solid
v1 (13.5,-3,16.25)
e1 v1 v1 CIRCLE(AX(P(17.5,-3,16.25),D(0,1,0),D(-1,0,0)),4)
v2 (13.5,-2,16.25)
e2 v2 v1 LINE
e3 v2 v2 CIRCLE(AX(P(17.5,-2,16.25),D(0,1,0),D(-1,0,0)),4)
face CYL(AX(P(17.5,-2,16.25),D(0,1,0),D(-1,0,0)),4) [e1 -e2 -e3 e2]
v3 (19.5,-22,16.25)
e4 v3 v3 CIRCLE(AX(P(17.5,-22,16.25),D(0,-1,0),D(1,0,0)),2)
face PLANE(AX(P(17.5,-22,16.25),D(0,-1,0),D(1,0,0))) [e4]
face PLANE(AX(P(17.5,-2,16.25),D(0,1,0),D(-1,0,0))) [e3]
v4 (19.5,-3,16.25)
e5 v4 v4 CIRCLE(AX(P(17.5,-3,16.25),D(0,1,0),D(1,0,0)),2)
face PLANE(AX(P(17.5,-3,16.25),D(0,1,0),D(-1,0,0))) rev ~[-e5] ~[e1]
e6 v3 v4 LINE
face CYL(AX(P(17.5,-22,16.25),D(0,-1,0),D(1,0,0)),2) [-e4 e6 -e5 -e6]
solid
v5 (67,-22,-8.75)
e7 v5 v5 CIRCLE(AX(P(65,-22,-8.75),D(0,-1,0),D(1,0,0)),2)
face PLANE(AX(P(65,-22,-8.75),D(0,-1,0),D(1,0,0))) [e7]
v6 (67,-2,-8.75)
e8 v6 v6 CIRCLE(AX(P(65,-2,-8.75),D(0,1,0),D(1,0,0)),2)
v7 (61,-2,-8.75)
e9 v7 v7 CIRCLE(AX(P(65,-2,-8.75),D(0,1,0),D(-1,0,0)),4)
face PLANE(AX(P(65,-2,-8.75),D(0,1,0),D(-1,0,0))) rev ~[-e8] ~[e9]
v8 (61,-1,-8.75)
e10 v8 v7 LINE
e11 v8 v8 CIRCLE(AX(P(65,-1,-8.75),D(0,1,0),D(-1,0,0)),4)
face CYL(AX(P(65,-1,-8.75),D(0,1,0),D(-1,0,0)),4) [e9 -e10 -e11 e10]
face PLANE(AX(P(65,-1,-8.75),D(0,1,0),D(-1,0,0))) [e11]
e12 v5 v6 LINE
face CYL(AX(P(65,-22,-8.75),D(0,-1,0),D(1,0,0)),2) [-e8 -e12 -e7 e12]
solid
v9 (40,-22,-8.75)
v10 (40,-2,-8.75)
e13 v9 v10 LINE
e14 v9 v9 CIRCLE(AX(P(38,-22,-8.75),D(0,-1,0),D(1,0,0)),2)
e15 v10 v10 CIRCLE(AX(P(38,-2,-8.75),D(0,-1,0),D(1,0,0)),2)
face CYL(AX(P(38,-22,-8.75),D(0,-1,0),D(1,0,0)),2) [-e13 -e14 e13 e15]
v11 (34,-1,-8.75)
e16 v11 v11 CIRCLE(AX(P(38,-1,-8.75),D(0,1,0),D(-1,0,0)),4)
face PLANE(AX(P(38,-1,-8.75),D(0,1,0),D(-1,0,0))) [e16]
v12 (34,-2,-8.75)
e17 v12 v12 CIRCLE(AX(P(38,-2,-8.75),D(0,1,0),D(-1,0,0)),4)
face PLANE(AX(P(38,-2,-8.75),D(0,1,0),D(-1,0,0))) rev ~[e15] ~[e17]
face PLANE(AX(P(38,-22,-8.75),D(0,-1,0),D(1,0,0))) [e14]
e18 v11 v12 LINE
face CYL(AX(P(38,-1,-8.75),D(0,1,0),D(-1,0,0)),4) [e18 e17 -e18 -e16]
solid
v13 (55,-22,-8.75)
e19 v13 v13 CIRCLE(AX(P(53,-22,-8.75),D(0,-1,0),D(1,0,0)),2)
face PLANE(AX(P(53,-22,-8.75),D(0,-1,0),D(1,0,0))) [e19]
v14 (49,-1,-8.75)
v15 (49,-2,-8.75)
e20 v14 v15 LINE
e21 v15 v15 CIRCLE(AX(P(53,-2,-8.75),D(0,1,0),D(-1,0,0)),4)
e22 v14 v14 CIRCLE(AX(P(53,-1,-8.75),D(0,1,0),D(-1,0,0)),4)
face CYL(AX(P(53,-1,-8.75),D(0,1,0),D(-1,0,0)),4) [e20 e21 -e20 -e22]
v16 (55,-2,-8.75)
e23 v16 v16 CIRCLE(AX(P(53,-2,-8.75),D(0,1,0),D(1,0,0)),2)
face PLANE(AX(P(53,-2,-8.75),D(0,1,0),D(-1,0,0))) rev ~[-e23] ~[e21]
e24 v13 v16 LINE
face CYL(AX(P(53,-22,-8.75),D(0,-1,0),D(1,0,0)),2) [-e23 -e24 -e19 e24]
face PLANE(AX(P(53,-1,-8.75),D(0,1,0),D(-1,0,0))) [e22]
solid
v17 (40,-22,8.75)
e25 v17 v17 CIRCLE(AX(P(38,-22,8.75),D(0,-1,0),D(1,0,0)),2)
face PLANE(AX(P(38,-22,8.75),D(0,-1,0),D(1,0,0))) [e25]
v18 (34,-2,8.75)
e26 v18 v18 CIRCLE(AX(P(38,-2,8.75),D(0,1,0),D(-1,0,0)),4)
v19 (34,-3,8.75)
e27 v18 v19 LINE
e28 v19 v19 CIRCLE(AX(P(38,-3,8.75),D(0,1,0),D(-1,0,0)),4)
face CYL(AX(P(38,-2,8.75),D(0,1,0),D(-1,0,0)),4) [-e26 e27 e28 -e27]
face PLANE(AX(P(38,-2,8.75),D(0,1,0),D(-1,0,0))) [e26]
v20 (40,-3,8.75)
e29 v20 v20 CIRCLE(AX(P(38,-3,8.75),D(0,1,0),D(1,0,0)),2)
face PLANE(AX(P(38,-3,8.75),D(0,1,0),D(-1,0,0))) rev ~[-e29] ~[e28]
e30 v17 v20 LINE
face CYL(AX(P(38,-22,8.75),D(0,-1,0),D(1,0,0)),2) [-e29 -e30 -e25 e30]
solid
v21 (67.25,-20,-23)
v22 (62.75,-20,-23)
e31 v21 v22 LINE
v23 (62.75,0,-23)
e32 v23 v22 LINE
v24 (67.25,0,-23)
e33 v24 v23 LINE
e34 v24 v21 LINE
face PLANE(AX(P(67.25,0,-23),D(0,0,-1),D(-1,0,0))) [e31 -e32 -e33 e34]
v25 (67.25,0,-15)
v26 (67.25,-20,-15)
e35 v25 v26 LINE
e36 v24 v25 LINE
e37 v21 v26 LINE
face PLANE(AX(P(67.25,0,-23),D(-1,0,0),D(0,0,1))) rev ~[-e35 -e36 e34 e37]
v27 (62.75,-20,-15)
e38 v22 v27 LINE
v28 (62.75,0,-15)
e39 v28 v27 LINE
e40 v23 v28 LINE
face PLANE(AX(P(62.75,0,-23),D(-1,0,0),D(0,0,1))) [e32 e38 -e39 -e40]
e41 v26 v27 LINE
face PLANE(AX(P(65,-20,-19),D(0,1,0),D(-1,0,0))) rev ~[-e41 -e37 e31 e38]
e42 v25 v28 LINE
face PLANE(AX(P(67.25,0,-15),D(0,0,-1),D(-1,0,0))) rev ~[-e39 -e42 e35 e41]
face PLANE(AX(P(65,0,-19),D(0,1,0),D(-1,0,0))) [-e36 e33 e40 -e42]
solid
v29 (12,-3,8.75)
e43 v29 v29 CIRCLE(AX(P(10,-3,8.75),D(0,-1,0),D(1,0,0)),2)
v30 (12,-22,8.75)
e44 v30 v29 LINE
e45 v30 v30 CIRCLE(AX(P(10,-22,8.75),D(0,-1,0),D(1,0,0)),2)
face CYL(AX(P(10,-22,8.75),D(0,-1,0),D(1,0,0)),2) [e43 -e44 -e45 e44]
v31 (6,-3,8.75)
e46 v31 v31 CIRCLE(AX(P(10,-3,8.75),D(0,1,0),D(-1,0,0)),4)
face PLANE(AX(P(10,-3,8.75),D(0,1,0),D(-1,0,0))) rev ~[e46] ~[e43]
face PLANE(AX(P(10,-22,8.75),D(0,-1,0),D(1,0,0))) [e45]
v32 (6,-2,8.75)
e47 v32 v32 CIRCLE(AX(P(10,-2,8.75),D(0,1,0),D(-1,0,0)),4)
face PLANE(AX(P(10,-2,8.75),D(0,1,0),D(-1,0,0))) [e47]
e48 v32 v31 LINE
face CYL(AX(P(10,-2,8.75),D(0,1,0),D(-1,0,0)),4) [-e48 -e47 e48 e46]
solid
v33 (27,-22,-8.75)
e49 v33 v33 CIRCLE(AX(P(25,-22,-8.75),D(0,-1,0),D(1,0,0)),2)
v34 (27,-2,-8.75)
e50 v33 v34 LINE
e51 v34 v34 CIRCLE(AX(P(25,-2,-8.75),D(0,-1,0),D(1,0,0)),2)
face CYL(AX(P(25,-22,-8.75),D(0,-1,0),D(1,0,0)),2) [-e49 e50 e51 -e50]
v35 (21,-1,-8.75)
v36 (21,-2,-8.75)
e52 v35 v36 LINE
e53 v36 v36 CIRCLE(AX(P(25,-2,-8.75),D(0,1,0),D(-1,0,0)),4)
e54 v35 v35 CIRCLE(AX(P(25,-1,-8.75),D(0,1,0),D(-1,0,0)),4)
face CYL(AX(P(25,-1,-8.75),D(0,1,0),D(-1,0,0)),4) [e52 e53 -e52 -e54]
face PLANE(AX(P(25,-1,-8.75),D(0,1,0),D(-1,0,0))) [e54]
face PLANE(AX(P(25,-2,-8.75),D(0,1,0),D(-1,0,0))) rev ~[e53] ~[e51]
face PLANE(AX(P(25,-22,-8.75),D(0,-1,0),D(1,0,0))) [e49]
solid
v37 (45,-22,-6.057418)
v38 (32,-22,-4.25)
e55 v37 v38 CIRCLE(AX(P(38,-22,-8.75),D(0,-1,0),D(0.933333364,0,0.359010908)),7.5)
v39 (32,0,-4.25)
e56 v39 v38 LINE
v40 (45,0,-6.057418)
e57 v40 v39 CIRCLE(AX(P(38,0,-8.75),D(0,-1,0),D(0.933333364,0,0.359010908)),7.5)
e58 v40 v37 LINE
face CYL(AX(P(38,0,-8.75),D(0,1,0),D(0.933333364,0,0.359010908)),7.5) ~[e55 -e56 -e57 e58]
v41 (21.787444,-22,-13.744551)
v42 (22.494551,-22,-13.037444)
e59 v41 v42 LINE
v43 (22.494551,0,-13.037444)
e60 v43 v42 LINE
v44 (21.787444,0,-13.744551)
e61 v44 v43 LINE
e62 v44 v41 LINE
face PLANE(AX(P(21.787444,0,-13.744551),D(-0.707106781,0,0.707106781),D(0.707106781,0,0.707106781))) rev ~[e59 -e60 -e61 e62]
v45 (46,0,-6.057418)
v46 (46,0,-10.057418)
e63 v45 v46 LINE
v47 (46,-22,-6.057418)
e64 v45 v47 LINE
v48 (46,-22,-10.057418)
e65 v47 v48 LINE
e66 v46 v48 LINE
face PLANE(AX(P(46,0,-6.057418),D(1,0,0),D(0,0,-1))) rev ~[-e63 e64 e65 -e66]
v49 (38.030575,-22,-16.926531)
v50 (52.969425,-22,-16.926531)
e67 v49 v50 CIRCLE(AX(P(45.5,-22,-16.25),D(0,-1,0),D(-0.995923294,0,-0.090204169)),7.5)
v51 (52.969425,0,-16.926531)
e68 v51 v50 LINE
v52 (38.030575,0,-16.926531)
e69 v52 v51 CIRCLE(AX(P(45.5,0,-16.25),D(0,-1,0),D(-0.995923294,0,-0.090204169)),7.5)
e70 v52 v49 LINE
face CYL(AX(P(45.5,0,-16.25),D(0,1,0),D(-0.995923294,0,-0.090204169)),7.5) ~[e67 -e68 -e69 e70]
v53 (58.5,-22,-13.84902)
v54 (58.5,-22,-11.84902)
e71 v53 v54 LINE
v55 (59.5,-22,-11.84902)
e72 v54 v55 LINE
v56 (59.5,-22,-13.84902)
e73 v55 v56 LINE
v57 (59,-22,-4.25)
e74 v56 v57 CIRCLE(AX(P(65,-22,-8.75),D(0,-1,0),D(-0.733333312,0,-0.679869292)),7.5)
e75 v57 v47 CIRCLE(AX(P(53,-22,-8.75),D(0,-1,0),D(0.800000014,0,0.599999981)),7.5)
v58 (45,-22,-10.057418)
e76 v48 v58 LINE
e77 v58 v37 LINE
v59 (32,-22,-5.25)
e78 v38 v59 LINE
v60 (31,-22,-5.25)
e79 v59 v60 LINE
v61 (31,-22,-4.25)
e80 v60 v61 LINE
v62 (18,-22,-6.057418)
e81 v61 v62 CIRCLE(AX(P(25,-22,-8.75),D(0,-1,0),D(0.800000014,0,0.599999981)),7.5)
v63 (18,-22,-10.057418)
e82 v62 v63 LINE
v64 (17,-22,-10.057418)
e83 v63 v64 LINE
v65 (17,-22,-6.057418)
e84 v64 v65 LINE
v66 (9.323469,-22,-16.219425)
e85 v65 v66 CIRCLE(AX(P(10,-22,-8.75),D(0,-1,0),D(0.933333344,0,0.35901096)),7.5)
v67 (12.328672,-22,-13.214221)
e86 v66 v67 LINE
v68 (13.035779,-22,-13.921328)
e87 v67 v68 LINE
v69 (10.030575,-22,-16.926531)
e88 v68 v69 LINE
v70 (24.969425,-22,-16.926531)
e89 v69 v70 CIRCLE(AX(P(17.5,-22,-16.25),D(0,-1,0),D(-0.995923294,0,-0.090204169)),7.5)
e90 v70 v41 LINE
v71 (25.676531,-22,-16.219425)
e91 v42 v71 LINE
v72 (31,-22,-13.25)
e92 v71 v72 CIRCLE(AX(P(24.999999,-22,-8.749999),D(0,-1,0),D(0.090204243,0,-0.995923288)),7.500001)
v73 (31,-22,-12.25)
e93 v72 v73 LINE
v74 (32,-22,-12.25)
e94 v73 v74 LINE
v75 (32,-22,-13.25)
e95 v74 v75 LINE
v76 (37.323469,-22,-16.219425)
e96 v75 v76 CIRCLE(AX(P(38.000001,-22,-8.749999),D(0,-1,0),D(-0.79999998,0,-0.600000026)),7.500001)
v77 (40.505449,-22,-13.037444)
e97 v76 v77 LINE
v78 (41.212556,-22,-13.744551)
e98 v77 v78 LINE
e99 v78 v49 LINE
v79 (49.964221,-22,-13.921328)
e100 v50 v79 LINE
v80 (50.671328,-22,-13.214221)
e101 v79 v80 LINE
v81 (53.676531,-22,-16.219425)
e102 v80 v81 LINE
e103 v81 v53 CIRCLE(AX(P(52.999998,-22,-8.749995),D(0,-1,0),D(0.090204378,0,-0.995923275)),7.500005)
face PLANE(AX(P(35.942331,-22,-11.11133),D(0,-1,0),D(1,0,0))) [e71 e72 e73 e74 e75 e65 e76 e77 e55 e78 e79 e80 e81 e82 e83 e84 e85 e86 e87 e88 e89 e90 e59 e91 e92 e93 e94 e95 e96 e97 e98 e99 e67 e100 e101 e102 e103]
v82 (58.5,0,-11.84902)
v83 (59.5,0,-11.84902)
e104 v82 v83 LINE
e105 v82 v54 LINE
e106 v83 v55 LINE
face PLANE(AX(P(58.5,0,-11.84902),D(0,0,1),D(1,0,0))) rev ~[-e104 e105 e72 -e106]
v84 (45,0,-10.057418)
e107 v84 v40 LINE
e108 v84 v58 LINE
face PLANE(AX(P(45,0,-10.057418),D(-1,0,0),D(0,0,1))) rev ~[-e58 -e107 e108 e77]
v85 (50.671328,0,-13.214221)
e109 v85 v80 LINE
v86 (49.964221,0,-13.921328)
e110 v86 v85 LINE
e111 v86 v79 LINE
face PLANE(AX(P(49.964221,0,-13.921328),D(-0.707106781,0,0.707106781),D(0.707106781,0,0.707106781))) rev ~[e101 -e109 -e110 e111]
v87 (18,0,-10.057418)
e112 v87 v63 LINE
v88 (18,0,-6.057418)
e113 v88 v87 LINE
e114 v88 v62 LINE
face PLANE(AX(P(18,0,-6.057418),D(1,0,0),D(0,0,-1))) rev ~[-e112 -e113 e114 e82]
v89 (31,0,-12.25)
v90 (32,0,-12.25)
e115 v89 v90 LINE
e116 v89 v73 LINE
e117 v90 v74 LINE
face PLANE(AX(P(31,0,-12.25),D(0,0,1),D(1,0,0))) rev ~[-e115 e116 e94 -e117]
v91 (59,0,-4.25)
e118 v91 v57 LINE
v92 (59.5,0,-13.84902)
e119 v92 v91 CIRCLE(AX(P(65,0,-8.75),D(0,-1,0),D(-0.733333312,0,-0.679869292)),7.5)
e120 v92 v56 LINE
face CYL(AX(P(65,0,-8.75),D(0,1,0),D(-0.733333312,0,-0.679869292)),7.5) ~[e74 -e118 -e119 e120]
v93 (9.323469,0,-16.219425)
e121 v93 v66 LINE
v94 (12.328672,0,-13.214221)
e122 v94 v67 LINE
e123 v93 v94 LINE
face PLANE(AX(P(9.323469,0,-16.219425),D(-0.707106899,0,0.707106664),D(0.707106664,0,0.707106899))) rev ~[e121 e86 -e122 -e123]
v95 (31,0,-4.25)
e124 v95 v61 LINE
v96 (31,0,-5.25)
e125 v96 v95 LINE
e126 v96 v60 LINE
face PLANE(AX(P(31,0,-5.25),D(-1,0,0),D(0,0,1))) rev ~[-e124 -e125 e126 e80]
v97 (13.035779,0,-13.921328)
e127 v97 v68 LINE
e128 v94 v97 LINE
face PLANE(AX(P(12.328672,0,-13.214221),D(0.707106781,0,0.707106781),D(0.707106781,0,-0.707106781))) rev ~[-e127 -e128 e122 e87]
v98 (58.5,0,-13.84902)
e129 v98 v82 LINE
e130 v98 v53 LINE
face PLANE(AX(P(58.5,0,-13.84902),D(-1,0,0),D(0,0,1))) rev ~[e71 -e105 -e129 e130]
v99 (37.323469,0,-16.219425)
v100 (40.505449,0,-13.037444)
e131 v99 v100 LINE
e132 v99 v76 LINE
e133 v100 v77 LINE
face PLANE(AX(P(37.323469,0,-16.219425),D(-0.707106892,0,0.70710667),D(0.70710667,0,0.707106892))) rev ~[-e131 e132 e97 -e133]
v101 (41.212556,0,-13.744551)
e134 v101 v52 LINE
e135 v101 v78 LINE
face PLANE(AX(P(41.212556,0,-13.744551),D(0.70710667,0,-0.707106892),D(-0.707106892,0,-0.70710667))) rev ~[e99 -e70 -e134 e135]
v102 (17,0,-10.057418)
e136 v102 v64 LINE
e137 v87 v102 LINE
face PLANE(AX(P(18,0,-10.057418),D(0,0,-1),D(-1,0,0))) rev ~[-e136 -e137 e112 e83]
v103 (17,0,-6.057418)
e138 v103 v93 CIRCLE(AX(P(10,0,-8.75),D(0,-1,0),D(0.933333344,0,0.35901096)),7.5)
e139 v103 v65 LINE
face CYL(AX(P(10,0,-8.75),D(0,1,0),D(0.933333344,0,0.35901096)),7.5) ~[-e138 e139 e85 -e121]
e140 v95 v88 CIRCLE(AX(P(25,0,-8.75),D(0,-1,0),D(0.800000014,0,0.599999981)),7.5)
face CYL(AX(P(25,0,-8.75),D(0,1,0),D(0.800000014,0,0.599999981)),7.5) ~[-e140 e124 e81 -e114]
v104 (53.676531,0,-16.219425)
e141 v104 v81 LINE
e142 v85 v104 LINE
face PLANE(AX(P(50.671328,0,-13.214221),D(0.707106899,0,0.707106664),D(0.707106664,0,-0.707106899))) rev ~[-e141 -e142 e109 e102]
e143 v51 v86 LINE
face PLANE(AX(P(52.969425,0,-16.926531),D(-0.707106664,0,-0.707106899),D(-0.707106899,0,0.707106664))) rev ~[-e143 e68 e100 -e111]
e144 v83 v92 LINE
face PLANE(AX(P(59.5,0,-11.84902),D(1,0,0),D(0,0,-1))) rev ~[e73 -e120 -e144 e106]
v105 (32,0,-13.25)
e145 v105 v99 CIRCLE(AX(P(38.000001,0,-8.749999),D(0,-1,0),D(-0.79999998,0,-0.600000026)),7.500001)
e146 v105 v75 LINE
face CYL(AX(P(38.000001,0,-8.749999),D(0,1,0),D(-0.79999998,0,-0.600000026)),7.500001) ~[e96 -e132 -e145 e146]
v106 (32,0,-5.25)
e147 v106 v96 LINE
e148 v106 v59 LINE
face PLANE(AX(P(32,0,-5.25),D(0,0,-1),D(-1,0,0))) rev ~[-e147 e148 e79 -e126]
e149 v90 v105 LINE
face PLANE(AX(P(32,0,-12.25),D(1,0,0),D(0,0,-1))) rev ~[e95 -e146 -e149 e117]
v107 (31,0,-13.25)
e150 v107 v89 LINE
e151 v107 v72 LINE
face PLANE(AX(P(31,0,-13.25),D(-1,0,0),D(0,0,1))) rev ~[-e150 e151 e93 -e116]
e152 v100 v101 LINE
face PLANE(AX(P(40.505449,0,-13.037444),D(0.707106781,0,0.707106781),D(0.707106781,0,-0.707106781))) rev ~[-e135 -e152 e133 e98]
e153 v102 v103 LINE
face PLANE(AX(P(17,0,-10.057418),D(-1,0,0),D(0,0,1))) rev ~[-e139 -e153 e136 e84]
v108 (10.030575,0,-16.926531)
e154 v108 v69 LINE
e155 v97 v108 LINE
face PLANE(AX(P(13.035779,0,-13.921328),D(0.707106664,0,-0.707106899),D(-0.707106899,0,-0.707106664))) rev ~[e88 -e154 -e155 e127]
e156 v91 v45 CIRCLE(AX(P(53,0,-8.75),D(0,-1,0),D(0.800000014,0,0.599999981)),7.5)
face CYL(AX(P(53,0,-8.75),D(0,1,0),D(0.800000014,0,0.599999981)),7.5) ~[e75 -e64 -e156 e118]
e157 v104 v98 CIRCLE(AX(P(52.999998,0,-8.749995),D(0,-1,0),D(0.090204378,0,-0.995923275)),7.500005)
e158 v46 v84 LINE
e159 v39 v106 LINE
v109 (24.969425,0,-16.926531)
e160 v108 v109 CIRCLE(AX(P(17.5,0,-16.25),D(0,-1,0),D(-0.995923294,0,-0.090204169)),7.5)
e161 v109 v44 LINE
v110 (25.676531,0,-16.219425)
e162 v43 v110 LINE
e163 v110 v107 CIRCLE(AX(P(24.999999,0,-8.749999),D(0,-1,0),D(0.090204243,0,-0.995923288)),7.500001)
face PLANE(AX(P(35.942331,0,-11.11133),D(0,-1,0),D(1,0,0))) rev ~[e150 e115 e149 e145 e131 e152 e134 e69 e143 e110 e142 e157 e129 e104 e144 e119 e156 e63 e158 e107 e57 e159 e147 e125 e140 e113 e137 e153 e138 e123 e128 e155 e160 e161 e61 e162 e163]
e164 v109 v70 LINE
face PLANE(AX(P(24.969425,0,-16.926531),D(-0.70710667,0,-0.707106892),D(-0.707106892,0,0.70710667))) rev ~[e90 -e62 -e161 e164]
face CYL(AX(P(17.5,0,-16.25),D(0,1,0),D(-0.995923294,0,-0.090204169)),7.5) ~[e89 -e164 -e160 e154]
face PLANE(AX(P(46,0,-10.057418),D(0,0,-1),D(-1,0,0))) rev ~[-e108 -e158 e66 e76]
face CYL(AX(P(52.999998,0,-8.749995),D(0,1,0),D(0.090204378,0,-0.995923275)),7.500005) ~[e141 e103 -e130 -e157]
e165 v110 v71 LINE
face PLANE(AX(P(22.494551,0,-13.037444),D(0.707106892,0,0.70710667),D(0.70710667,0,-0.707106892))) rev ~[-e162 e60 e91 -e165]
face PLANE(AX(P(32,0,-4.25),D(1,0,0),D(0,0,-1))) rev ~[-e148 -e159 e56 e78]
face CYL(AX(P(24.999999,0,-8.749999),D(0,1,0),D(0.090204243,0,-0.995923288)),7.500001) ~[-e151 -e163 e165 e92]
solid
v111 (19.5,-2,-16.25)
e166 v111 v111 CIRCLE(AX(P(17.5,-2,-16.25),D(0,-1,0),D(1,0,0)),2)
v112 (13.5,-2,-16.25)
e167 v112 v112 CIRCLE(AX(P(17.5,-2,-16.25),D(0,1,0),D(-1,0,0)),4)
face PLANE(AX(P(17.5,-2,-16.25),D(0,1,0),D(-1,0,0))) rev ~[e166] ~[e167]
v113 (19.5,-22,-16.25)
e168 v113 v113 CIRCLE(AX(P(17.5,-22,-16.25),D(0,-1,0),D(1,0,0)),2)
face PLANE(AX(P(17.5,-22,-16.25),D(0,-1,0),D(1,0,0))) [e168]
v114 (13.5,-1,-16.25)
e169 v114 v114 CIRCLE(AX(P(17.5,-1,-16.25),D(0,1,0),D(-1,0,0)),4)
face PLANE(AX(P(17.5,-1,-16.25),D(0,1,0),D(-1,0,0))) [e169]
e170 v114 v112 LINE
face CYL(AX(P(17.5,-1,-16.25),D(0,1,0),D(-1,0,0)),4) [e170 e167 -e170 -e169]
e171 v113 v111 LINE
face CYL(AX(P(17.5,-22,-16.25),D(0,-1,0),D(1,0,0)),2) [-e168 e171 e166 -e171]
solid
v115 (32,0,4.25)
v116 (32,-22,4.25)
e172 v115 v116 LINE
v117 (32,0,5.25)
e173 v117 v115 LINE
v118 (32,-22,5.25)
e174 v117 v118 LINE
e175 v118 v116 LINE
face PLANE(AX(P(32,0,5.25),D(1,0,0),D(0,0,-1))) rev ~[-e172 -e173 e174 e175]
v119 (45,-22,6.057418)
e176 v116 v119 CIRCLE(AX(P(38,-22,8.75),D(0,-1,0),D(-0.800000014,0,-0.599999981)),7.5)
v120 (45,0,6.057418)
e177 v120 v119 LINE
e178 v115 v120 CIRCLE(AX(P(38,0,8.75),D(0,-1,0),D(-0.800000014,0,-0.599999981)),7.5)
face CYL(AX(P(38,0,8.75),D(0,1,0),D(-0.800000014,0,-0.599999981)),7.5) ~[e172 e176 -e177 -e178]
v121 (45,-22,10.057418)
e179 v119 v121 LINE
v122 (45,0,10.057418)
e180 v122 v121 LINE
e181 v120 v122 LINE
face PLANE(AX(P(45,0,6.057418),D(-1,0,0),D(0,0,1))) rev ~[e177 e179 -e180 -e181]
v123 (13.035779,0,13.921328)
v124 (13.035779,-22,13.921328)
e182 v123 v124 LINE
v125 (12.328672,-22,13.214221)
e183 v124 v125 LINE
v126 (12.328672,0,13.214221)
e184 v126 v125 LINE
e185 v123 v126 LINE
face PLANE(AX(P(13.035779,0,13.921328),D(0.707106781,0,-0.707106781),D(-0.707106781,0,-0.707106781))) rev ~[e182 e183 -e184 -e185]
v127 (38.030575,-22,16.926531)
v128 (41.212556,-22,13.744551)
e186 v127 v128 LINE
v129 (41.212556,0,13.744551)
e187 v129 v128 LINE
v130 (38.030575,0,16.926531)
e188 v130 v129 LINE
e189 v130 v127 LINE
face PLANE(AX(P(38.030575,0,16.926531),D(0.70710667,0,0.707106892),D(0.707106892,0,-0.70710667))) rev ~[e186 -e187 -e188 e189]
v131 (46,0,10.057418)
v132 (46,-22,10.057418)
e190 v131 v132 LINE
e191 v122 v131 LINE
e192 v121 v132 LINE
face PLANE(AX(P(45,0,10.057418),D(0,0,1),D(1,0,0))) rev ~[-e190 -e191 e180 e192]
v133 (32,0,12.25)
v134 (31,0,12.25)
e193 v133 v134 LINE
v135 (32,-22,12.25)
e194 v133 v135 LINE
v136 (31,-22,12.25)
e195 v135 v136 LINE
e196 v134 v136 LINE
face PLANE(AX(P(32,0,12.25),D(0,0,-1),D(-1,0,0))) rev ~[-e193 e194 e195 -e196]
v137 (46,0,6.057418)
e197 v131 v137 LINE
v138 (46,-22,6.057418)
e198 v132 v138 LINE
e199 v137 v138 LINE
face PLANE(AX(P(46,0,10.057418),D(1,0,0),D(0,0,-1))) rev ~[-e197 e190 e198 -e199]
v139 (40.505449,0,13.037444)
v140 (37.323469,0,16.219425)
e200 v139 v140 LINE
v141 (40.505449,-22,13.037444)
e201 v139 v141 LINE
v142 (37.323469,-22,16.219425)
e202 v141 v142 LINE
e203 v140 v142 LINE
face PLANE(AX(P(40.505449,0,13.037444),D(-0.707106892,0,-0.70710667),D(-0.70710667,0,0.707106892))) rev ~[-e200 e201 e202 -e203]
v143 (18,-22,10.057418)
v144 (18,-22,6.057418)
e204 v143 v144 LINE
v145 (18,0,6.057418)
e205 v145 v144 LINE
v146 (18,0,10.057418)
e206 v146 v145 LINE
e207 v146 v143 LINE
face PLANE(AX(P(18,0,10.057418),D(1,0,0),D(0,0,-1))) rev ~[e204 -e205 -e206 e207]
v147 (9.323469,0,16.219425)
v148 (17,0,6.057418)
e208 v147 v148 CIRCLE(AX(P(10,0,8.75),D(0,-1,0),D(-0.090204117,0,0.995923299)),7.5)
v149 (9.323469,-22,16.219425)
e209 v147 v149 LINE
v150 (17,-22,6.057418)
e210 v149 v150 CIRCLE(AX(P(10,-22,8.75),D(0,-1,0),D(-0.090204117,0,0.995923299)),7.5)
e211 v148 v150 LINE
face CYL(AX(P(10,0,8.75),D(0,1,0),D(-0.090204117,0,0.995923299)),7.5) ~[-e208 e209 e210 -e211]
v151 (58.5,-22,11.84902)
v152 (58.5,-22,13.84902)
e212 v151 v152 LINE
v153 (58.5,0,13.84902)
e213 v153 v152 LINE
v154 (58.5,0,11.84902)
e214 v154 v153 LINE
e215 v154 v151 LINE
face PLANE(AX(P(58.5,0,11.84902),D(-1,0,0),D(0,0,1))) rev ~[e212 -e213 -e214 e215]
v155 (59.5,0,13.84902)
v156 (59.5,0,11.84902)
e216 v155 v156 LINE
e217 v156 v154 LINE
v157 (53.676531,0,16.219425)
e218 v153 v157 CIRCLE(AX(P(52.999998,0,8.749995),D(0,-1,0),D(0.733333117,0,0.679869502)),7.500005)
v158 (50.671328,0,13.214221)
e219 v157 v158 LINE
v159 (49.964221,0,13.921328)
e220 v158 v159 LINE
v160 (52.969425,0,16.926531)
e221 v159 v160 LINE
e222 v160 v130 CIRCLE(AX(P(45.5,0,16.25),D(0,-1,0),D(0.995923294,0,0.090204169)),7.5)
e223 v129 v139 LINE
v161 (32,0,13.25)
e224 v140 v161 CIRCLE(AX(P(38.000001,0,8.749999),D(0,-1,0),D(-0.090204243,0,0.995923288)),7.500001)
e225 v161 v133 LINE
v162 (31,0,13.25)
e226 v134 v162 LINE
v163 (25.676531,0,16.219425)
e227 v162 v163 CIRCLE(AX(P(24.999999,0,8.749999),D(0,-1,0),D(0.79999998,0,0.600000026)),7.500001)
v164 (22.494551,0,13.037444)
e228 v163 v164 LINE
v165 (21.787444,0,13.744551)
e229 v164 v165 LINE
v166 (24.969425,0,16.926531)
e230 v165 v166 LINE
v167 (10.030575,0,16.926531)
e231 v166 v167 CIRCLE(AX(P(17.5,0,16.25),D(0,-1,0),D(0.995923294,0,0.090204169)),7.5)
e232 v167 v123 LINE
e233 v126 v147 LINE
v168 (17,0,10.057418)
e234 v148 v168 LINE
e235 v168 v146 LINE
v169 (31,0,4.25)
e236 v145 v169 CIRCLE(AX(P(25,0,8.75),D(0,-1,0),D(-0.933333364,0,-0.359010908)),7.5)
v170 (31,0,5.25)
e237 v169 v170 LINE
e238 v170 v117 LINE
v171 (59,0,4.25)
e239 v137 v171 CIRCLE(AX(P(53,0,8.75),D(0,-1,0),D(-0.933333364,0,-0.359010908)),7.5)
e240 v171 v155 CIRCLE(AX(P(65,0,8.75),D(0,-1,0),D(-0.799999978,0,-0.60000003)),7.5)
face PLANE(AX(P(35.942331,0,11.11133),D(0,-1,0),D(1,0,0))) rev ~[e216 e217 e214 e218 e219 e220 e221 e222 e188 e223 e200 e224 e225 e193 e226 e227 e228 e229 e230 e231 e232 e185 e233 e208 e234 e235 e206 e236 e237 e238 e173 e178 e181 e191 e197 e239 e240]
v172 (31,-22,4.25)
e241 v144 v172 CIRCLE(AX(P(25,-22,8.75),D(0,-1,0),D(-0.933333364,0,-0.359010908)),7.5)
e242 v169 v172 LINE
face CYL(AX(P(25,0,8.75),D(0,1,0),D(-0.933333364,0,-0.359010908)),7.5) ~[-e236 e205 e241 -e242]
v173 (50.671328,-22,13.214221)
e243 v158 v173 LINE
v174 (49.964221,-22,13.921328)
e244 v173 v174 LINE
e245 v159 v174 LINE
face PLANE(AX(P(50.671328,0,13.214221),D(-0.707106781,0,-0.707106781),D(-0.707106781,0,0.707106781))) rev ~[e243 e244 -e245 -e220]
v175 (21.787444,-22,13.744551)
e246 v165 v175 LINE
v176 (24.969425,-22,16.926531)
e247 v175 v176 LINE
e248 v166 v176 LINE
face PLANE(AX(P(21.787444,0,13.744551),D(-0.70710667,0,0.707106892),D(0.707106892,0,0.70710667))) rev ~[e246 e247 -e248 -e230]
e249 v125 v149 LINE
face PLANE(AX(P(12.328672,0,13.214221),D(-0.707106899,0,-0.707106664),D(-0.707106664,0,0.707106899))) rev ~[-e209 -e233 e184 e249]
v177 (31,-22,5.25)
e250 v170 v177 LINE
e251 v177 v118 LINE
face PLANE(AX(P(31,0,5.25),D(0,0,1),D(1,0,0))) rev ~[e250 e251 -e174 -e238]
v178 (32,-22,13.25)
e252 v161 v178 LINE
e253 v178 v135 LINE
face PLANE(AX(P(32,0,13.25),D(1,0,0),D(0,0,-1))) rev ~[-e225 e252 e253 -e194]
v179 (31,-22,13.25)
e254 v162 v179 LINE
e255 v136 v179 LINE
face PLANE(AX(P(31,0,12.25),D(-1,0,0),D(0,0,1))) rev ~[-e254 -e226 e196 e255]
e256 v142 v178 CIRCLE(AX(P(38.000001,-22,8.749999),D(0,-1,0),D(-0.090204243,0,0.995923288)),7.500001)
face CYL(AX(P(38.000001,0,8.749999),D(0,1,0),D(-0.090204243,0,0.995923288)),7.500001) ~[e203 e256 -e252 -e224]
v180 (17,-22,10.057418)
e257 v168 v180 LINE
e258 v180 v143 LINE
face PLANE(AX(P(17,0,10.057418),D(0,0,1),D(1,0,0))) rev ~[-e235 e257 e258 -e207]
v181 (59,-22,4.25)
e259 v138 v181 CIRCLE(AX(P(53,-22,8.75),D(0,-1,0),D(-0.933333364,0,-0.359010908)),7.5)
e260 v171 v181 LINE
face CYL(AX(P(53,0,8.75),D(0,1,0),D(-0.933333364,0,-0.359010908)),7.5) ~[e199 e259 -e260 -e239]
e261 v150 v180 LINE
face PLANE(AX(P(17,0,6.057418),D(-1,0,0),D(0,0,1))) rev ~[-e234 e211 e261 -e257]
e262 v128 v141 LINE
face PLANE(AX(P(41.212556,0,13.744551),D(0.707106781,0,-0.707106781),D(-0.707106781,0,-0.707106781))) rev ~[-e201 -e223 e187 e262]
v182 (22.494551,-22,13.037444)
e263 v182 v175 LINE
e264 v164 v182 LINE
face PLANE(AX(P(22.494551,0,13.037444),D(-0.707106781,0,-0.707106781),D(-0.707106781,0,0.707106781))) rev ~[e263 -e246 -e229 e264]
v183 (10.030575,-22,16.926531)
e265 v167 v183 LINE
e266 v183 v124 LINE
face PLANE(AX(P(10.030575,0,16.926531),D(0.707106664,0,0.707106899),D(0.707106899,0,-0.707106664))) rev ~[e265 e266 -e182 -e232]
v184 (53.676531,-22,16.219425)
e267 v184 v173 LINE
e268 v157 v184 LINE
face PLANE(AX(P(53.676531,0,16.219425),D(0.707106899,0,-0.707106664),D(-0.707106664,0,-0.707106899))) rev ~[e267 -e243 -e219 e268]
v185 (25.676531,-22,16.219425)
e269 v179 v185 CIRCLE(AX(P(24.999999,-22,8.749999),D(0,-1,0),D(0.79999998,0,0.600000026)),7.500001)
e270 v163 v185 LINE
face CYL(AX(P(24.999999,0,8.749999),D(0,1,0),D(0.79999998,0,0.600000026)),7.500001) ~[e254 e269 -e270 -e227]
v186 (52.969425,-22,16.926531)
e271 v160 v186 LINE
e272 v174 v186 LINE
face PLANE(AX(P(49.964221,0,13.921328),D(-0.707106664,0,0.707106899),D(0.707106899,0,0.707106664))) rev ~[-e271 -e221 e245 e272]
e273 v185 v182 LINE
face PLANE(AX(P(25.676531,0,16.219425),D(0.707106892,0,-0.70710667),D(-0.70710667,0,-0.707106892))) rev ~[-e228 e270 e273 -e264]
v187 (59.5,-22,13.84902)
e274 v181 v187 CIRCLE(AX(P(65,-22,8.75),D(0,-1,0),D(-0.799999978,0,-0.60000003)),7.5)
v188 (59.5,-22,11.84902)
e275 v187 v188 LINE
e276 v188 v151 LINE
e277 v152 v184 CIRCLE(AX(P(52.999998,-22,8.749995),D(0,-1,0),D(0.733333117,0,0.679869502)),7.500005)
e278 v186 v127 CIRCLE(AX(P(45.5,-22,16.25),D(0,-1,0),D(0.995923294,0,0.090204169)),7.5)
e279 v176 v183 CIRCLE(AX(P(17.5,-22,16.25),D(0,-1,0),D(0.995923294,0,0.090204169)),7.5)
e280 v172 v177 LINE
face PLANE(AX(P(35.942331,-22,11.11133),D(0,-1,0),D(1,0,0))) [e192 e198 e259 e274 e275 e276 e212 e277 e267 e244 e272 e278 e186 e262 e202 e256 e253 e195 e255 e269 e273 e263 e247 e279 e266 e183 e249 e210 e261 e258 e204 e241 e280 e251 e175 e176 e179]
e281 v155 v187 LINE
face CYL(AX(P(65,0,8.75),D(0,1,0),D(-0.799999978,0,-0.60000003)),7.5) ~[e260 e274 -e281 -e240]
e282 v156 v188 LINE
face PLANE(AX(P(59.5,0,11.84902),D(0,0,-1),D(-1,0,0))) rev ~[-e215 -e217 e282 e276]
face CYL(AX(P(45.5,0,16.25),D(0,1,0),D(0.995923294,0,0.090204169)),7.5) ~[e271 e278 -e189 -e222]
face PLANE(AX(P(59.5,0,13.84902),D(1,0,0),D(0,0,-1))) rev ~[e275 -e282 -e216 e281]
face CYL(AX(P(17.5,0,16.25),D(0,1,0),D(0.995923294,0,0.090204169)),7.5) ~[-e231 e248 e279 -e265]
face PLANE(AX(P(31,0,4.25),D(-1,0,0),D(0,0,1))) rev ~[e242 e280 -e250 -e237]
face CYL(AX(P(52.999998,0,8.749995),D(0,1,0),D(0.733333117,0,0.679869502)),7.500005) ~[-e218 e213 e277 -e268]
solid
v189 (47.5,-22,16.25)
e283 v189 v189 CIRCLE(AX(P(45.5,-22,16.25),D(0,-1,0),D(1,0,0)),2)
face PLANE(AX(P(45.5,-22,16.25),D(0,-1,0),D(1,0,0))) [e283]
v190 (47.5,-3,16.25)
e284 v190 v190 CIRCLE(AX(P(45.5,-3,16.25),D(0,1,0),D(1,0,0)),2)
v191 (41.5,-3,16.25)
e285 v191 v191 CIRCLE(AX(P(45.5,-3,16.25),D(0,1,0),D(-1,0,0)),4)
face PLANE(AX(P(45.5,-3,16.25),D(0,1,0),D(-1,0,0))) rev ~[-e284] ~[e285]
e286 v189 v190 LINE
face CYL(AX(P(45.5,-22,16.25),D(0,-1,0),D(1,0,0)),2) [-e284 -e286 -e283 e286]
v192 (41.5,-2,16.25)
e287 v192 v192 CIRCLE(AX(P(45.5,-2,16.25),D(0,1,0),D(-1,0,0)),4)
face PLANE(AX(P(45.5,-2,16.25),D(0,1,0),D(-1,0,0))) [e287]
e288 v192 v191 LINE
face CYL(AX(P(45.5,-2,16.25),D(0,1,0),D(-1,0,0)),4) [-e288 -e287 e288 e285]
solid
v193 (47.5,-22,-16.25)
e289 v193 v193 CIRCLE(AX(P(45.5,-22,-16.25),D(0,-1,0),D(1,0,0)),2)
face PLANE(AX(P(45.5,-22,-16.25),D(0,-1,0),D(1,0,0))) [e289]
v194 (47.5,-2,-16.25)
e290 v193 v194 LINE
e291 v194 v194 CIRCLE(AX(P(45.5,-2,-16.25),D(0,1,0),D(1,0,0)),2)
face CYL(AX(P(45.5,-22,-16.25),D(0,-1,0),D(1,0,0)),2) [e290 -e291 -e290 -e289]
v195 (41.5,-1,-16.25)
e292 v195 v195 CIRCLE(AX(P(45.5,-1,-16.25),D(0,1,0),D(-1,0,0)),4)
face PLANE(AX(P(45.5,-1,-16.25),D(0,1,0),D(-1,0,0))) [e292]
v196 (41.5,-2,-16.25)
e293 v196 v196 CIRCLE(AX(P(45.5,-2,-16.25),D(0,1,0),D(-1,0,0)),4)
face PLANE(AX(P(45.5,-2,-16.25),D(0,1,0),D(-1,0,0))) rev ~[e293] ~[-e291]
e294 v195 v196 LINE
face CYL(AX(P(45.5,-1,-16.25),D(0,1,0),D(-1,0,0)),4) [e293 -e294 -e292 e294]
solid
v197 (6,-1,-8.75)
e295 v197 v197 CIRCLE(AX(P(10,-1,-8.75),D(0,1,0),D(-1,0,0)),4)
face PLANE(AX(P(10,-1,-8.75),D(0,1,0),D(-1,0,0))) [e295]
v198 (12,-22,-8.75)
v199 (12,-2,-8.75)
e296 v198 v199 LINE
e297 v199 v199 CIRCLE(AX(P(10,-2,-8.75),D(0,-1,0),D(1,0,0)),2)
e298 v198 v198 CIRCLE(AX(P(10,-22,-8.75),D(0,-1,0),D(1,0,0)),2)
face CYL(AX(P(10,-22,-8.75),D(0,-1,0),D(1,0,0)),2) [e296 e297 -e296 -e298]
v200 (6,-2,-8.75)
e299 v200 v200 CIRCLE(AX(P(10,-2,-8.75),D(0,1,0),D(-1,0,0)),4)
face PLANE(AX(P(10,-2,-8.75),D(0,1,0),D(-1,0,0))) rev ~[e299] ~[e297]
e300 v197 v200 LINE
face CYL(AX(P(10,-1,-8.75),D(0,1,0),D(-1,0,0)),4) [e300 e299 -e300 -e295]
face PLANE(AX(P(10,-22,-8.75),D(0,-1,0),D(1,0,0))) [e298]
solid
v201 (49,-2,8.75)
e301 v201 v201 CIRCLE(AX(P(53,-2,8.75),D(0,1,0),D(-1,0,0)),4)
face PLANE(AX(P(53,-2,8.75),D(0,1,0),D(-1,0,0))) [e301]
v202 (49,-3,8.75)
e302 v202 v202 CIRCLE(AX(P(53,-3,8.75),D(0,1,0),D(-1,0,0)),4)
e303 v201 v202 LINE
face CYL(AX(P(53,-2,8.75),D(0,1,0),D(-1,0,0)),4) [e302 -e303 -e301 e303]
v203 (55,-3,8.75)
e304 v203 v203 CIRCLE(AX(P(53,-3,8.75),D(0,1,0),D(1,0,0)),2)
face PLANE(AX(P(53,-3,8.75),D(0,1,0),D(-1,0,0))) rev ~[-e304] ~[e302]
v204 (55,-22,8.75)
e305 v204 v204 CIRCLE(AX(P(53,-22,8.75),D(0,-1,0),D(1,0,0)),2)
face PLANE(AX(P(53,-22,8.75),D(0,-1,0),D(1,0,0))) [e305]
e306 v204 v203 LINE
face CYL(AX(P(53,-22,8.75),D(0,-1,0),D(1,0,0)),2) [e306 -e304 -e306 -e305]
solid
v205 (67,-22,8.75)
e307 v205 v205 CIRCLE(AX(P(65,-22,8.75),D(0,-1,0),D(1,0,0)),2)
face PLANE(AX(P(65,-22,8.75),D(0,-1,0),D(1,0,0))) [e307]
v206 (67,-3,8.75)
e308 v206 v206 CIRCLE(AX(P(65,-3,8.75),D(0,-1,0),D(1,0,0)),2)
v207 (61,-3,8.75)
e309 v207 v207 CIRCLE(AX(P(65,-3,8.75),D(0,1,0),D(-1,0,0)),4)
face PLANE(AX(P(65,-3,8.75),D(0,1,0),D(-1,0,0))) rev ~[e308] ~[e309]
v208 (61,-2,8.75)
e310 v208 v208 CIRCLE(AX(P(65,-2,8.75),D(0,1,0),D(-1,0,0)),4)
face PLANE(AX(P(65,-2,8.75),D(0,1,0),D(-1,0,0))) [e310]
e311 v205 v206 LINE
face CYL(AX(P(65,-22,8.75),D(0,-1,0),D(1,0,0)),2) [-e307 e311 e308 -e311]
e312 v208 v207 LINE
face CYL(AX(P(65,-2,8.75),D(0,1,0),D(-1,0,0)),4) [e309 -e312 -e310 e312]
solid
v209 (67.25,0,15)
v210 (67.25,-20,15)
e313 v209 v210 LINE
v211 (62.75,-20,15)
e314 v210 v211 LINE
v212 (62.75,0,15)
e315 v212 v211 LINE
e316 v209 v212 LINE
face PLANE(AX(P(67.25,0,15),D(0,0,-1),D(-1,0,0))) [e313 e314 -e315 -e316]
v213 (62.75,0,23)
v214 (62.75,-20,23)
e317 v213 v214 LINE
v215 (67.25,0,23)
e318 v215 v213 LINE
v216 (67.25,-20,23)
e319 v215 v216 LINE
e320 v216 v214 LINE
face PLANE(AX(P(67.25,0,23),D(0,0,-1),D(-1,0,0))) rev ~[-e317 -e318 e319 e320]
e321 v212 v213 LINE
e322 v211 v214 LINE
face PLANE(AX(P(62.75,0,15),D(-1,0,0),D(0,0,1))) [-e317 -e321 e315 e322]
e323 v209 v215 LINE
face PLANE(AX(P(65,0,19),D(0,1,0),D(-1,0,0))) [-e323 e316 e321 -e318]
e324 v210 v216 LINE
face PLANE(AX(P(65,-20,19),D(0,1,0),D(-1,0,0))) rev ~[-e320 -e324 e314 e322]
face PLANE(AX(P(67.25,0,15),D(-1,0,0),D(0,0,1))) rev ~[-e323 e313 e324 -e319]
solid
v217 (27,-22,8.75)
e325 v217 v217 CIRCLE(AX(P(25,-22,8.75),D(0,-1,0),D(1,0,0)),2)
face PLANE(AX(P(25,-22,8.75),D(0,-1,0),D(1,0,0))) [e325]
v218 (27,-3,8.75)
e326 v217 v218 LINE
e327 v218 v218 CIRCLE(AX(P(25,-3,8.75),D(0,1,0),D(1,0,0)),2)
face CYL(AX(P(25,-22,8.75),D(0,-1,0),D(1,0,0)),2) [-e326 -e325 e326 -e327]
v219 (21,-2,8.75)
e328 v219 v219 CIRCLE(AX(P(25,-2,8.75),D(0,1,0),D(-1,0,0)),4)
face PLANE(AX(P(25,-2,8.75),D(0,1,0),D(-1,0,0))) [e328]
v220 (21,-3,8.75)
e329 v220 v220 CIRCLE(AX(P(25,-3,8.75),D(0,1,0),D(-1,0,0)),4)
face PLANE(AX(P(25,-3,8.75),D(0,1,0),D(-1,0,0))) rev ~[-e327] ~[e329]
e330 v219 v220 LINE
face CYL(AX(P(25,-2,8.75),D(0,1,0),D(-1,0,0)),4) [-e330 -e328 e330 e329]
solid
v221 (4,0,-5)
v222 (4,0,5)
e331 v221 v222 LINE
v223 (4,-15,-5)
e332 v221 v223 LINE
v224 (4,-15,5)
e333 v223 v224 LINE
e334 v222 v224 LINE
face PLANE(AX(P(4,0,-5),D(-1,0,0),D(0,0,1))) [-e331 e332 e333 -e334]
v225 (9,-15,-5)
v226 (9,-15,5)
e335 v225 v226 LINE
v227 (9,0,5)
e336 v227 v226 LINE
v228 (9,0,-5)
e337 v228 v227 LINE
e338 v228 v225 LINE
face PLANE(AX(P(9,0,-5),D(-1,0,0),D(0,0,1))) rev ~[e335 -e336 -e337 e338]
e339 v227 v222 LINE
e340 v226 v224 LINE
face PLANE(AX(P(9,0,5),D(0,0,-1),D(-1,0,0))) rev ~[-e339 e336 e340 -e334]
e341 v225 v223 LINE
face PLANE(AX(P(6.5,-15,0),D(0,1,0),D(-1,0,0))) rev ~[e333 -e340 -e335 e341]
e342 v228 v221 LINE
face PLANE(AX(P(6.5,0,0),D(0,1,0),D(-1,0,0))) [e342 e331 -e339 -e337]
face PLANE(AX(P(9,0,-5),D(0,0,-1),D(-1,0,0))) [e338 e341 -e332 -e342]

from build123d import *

# Parameters (mm, degrees)
F2_DEPTH  = 22
F3_R      = 2
F4_DEPTH  = 21
F5_R      = 4
F6_DEPTH  = 1
F7_R      = 2
F8_DEPTH  = 21
F9_R      = 4
F10_DEPTH = 1
F11_R     = 2
F12_DEPTH = 21
F13_R     = 2
F14_DEPTH = 21
F15_R     = 4
F16_DEPTH = 1
F17_R     = 2
F18_DEPTH = 21
F19_R     = 4
F20_DEPTH = 1
F21_R     = 2
F22_DEPTH = 21
F23_R     = 4
F23_R_2   = 2
F24_DEPTH = 1
F25_R     = 2
F26_DEPTH = 21
F27_R     = 4
F27_R_2   = 2
F28_DEPTH = 1
F29_R     = 2
F30_DEPTH = 21
F31_R     = 4
F31_R_2   = 2
F32_DEPTH = 1
F33_R     = 2
F34_DEPTH = 20
F35_R     = 2
F36_DEPTH = 20
F37_R     = 2
F38_DEPTH = 20
F39_DEPTH = 20
F40_DEPTH = 20
F41_DEPTH = 20
F42_DEPTH = 20
F43_R     = 4
F44_DEPTH = 1
F45_R     = 4
F45_R_2   = 2
F46_DEPTH = 1
F47_R     = 4
F47_R_2   = 2
F48_DEPTH = 1
F49_R     = 4
F49_R_2   = 2
F50_DEPTH = 1
F51_R     = 4
F51_R_2   = 2
F52_DEPTH = 1
F53_R     = 4
F53_R_2   = 2
F54_DEPTH = 1
F55_R     = 4
F56_DEPTH = 1
F57_W     = 5
F57_H     = 10
F58_DEPTH = 15
F59_W     = 4.5
F59_H     = 8
F60_DEPTH = 20


with BuildPart() as f2:
    # F1 (on face) → F2 (new body)
    with BuildSketch(Plane.XZ):
        with BuildLine():
            Line((13.035779, -13.921328), (10.030575, -16.926531))
            ThreePointArc((10.030575, -16.926531), (17.5, -23.75), (24.969425, -16.926531))
            Line((24.969425, -16.926531), (21.787444, -13.744551))
            Line((21.787444, -13.744551), (22.494551, -13.037444))
            Line((22.494551, -13.037444), (25.676531, -16.219425))
            ThreePointArc((25.676531, -16.219425), (28.653545, -15.299932), (31, -13.25))
            Line((31, -13.25), (31, -12.25))
            Line((31, -12.25), (32, -12.25))
            Line((32, -12.25), (32, -13.25))
            ThreePointArc((32, -13.25), (34.346455, -15.299932), (37.323469, -16.219425))
            Line((37.323469, -16.219425), (40.505449, -13.037444))
            Line((40.505449, -13.037444), (41.212556, -13.744551))
            Line((41.212556, -13.744551), (38.030575, -16.926531))
            ThreePointArc((38.030575, -16.926531), (45.5, -23.75), (52.969425, -16.926531))
            Line((52.969425, -16.926531), (49.964221, -13.921328))
            Line((49.964221, -13.921328), (50.671328, -13.214221))
            Line((50.671328, -13.214221), (53.676531, -16.219425))
            ThreePointArc((53.676531, -16.219425), (56.307883, -15.481115), (58.5, -13.84902))
            Line((58.5, -13.84902), (58.5, -11.84902))
            Line((58.5, -11.84902), (59.5, -11.84902))
            Line((59.5, -11.84902), (59.5, -13.84902))
            ThreePointArc((59.5, -13.84902), (72.489846, -8.359864), (59, -4.25))
            ThreePointArc((59, -4.25), (51.967193, -1.321453), (46, -6.057418))
            Line((46, -6.057418), (46, -10.057418))
            Line((46, -10.057418), (45, -10.057418))
            Line((45, -10.057418), (45, -6.057418))
            ThreePointArc((45, -6.057418), (39.032807, -1.321453), (32, -4.25))
            Line((32, -4.25), (32, -5.25))
            Line((32, -5.25), (31, -5.25))
            Line((31, -5.25), (31, -4.25))
            ThreePointArc((31, -4.25), (23.967193, -1.321453), (18, -6.057418))
            Line((18, -6.057418), (18, -10.057418))
            Line((18, -10.057418), (17, -10.057418))
            Line((17, -10.057418), (17, -6.057418))
            ThreePointArc((17, -6.057418), (4.01559, -4.229288), (9.323469, -16.219425))
            Line((9.323469, -16.219425), (12.328672, -13.214221))
            Line((12.328672, -13.214221), (13.035779, -13.921328))
        make_face()
        with BuildLine():
            Line((32, 12.25), (31, 12.25))
            Line((31, 12.25), (31, 13.25))
            ThreePointArc((31, 13.25), (28.653545, 15.299932), (25.676531, 16.219425))
            Line((25.676531, 16.219425), (22.494551, 13.037444))
            Line((22.494551, 13.037444), (21.787444, 13.744551))
            Line((21.787444, 13.744551), (24.969425, 16.926531))
            ThreePointArc((24.969425, 16.926531), (17.5, 23.75), (10.030575, 16.926531))
            Line((10.030575, 16.926531), (13.035779, 13.921328))
            Line((13.035779, 13.921328), (12.328672, 13.214221))
            Line((12.328672, 13.214221), (9.323469, 16.219425))
            ThreePointArc((9.323469, 16.219425), (4.01559, 4.229288), (17, 6.057418))
            Line((17, 6.057418), (17, 10.057418))
            Line((17, 10.057418), (18, 10.057418))
            Line((18, 10.057418), (18, 6.057418))
            ThreePointArc((18, 6.057418), (23.967193, 1.321453), (31, 4.25))
            Line((31, 4.25), (31, 5.25))
            Line((31, 5.25), (32, 5.25))
            Line((32, 5.25), (32, 4.25))
            ThreePointArc((32, 4.25), (39.032807, 1.321453), (45, 6.057418))
            Line((45, 6.057418), (45, 10.057418))
            Line((45, 10.057418), (46, 10.057418))
            Line((46, 10.057418), (46, 6.057418))
            ThreePointArc((46, 6.057418), (51.967193, 1.321453), (59, 4.25))
            ThreePointArc((59, 4.25), (72.489846, 8.359864), (59.5, 13.84902))
            Line((59.5, 13.84902), (59.5, 11.84902))
            Line((59.5, 11.84902), (58.5, 11.84902))
            Line((58.5, 11.84902), (58.5, 13.84902))
            ThreePointArc((58.5, 13.84902), (56.307883, 15.481115), (53.676531, 16.219425))
            Line((53.676531, 16.219425), (50.671328, 13.214221))
            Line((50.671328, 13.214221), (49.964221, 13.921328))
            Line((49.964221, 13.921328), (52.969425, 16.926531))
            ThreePointArc((52.969425, 16.926531), (45.5, 23.75), (38.030575, 16.926531))
            Line((38.030575, 16.926531), (41.212556, 13.744551))
            Line((41.212556, 13.744551), (40.505449, 13.037444))
            Line((40.505449, 13.037444), (37.323469, 16.219425))
            ThreePointArc((37.323469, 16.219425), (34.346455, 15.299932), (32, 13.25))
            Line((32, 13.25), (32, 12.25))
        make_face()
    extrude(amount=F2_DEPTH)

    # F11 (on face) → F12 (join)
    with BuildSketch(Plane.XZ.offset(22)):
        with Locations((25, -8.75)):
            Circle(F11_R)
    extrude(amount=-F12_DEPTH)


with BuildPart() as f4:
    # F3 (on face) → F4 (new body)
    with BuildSketch(Plane.XZ.offset(22)):
        with Locations((10, -8.75)):
            Circle(F3_R)
    extrude(amount=-F4_DEPTH)

    # F5 (on face) → F6 (join)
    with BuildSketch(Plane(origin=(0, -1, 0), x_dir=(-1, 0, 0), z_dir=(0, 1, 0))):
        with Locations((-10, -8.75)):
            Circle(F5_R)
    extrude(amount=-F6_DEPTH)


with BuildPart() as f8:
    # F7 (on face) → F8 (new body)
    with BuildSketch(Plane.XZ.offset(22)):
        with Locations((17.5, -16.25)):
            Circle(F7_R)
    extrude(amount=-F8_DEPTH)

    # F9 (on face) → F10 (join)
    with BuildSketch(Plane(origin=(0, -1, 0), x_dir=(-1, 0, 0), z_dir=(0, 1, 0))):
        with Locations((-17.5, -16.25)):
            Circle(F9_R)
    extrude(amount=-F10_DEPTH)


with BuildPart() as f14:
    # F13 (on face) → F14 (new body)
    with BuildSketch(Plane.XZ.offset(22)):
        with Locations((25, -8.75)):
            Circle(F13_R)
    extrude(amount=-F14_DEPTH)

    # F15 (on face) → F16 (join)
    with BuildSketch(Plane(origin=(0, -1, 0), x_dir=(-1, 0, 0), z_dir=(0, 1, 0))):
        with Locations((-25, -8.75)):
            Circle(F15_R)
    extrude(amount=-F16_DEPTH)


with BuildPart() as f18:
    # F17 (on face) → F18 (new body)
    with BuildSketch(Plane.XZ.offset(22)):
        with Locations((38, -8.75)):
            Circle(F17_R)
    extrude(amount=-F18_DEPTH)

    # F19 (on face) → F20 (join)
    with BuildSketch(Plane(origin=(0, -1, 0), x_dir=(-1, 0, 0), z_dir=(0, 1, 0))):
        with Locations((-38, -8.75)):
            Circle(F19_R)
    extrude(amount=-F20_DEPTH)


with BuildPart() as f22:
    # F21 (on face) → F22 (new body)
    with BuildSketch(Plane.XZ.offset(22)):
        with Locations((45.5, -16.25)):
            Circle(F21_R)
    extrude(amount=-F22_DEPTH)

    # F23 (on face) → F24 (join)
    with BuildSketch(Plane(origin=(0, -1, 0), x_dir=(-1, 0, 0), z_dir=(0, 1, 0))):
        with Locations((-45.5, -16.25)):
            Circle(F23_R)
        with Locations((-45.5, -16.25)):
            Circle(F23_R_2, mode=Mode.SUBTRACT)
    extrude(amount=-F24_DEPTH)


with BuildPart() as f26:
    # F25 (on face) → F26 (new body)
    with BuildSketch(Plane.XZ.offset(22)):
        with Locations((53, -8.75)):
            Circle(F25_R)
    extrude(amount=-F26_DEPTH)

    # F27 (on face) → F28 (join)
    with BuildSketch(Plane(origin=(0, -1, 0), x_dir=(-1, 0, 0), z_dir=(0, 1, 0))):
        with Locations((-53, -8.75)):
            Circle(F27_R)
        with Locations((-53, -8.75)):
            Circle(F27_R_2, mode=Mode.SUBTRACT)
    extrude(amount=-F28_DEPTH)


with BuildPart() as f30:
    # F29 (on face) → F30 (new body)
    with BuildSketch(Plane.XZ.offset(22)):
        with Locations((65, -8.75)):
            Circle(F29_R)
    extrude(amount=-F30_DEPTH)

    # F31 (on face) → F32 (join)
    with BuildSketch(Plane(origin=(0, -1, 0), x_dir=(-1, 0, 0), z_dir=(0, 1, 0))):
        with Locations((-65, -8.75)):
            Circle(F31_R)
        with Locations((-65, -8.75)):
            Circle(F31_R_2, mode=Mode.SUBTRACT)
    extrude(amount=-F32_DEPTH)


with BuildPart() as f34:
    # F33 (on face) → F34 (new body)
    with BuildSketch(Plane.XZ.offset(22)):
        with Locations((10, 8.75)):
            Circle(F33_R)
    extrude(amount=-F34_DEPTH)

    # F43 (on face) → F44 (join)
    with BuildSketch(Plane(origin=(0, -2, 0), x_dir=(-1, 0, 0), z_dir=(0, 1, 0))):
        with Locations((-10, 8.75)):
            Circle(F43_R)
    extrude(amount=-F44_DEPTH)


with BuildPart() as f36:
    # F35 (on face) → F36 (new body)
    with BuildSketch(Plane.XZ.offset(22)):
        with Locations((17.5, 16.25)):
            Circle(F35_R)
    extrude(amount=-F36_DEPTH)

    # F45 (on face) → F46 (join)
    with BuildSketch(Plane(origin=(0, -2, 0), x_dir=(-1, 0, 0), z_dir=(0, 1, 0))):
        with Locations((-17.5, 16.25)):
            Circle(F45_R)
        with Locations((-17.5, 16.25)):
            Circle(F45_R_2, mode=Mode.SUBTRACT)
    extrude(amount=-F46_DEPTH)


with BuildPart() as f38:
    # F37 (on face) → F38 (new body)
    with BuildSketch(Plane.XZ.offset(22)):
        with Locations((25, 8.75)):
            Circle(F37_R)
    extrude(amount=-F38_DEPTH)

    # F47 (on face) → F48 (join)
    with BuildSketch(Plane(origin=(0, -2, 0), x_dir=(-1, 0, 0), z_dir=(0, 1, 0))):
        with Locations((-25, 8.75)):
            Circle(F47_R)
        with Locations((-25, 8.75)):
            Circle(F47_R_2, mode=Mode.SUBTRACT)
    extrude(amount=-F48_DEPTH)


with BuildPart() as f39:
    # F37 (on face) → F39 (new body)
    with BuildSketch(Plane.XZ.offset(22)):
        with Locations((38, 8.75)):
            Circle(F37_R)
    extrude(amount=-F39_DEPTH)

    # F49 (on face) → F50 (join)
    with BuildSketch(Plane(origin=(0, -2, 0), x_dir=(-1, 0, 0), z_dir=(0, 1, 0))):
        with Locations((-38, 8.75)):
            Circle(F49_R)
        with Locations((-38, 8.75)):
            Circle(F49_R_2, mode=Mode.SUBTRACT)
    extrude(amount=-F50_DEPTH)


with BuildPart() as f40:
    # F37 (on face) → F40 (new body)
    with BuildSketch(Plane.XZ.offset(22)):
        with Locations((45.5, 16.25)):
            Circle(F37_R)
    extrude(amount=-F40_DEPTH)

    # F51 (on face) → F52 (join)
    with BuildSketch(Plane(origin=(0, -2, 0), x_dir=(-1, 0, 0), z_dir=(0, 1, 0))):
        with Locations((-45.5, 16.25)):
            Circle(F51_R)
        with Locations((-45.5, 16.25)):
            Circle(F51_R_2, mode=Mode.SUBTRACT)
    extrude(amount=-F52_DEPTH)


with BuildPart() as f41:
    # F37 (on face) → F41 (new body)
    with BuildSketch(Plane.XZ.offset(22)):
        with Locations((53, 8.75)):
            Circle(F37_R)
    extrude(amount=-F41_DEPTH)

    # F53 (on face) → F54 (join)
    with BuildSketch(Plane(origin=(0, -2, 0), x_dir=(-1, 0, 0), z_dir=(0, 1, 0))):
        with Locations((-53, 8.75)):
            Circle(F53_R)
        with Locations((-53, 8.75)):
            Circle(F53_R_2, mode=Mode.SUBTRACT)
    extrude(amount=-F54_DEPTH)


with BuildPart() as f42:
    # F37 (on face) → F42 (new body)
    with BuildSketch(Plane.XZ.offset(22)):
        with Locations((65, 8.75)):
            Circle(F37_R)
    extrude(amount=-F42_DEPTH)

    # F55 (on face) → F56 (join)
    with BuildSketch(Plane(origin=(0, -2, 0), x_dir=(-1, 0, 0), z_dir=(0, 1, 0))):
        with Locations((-65, 8.75)):
            Circle(F55_R)
    extrude(amount=-F56_DEPTH)


with BuildPart() as f58:
    # F57 (on face) → F58 (new body)
    with BuildSketch(Plane(origin=(0, 0, 0), x_dir=(-1, 0, 0), z_dir=(0, 1, 0))):
        with Locations((-6.5, 0)):
            Rectangle(F57_W, F57_H)
    extrude(amount=-F58_DEPTH)


with BuildPart() as f60:
    # F59 (on face) → F60 (new body)
    with BuildSketch(Plane(origin=(0, 0, 0), x_dir=(-1, 0, 0), z_dir=(0, 1, 0))):
        with Locations((-65, 19)):
            Rectangle(F59_W, F59_H)
        with Locations((-65, -19)):
            Rectangle(F59_W, F59_H)
    extrude(amount=-F60_DEPTH)


solid = Compound([f2.part, f4.part, f8.part, f14.part, f18.part, f22.part, f26.part, f30.part, f34.part, f36.part, f38.part, f39.part, f40.part, f41.part, f42.part, f58.part, f60.part])
